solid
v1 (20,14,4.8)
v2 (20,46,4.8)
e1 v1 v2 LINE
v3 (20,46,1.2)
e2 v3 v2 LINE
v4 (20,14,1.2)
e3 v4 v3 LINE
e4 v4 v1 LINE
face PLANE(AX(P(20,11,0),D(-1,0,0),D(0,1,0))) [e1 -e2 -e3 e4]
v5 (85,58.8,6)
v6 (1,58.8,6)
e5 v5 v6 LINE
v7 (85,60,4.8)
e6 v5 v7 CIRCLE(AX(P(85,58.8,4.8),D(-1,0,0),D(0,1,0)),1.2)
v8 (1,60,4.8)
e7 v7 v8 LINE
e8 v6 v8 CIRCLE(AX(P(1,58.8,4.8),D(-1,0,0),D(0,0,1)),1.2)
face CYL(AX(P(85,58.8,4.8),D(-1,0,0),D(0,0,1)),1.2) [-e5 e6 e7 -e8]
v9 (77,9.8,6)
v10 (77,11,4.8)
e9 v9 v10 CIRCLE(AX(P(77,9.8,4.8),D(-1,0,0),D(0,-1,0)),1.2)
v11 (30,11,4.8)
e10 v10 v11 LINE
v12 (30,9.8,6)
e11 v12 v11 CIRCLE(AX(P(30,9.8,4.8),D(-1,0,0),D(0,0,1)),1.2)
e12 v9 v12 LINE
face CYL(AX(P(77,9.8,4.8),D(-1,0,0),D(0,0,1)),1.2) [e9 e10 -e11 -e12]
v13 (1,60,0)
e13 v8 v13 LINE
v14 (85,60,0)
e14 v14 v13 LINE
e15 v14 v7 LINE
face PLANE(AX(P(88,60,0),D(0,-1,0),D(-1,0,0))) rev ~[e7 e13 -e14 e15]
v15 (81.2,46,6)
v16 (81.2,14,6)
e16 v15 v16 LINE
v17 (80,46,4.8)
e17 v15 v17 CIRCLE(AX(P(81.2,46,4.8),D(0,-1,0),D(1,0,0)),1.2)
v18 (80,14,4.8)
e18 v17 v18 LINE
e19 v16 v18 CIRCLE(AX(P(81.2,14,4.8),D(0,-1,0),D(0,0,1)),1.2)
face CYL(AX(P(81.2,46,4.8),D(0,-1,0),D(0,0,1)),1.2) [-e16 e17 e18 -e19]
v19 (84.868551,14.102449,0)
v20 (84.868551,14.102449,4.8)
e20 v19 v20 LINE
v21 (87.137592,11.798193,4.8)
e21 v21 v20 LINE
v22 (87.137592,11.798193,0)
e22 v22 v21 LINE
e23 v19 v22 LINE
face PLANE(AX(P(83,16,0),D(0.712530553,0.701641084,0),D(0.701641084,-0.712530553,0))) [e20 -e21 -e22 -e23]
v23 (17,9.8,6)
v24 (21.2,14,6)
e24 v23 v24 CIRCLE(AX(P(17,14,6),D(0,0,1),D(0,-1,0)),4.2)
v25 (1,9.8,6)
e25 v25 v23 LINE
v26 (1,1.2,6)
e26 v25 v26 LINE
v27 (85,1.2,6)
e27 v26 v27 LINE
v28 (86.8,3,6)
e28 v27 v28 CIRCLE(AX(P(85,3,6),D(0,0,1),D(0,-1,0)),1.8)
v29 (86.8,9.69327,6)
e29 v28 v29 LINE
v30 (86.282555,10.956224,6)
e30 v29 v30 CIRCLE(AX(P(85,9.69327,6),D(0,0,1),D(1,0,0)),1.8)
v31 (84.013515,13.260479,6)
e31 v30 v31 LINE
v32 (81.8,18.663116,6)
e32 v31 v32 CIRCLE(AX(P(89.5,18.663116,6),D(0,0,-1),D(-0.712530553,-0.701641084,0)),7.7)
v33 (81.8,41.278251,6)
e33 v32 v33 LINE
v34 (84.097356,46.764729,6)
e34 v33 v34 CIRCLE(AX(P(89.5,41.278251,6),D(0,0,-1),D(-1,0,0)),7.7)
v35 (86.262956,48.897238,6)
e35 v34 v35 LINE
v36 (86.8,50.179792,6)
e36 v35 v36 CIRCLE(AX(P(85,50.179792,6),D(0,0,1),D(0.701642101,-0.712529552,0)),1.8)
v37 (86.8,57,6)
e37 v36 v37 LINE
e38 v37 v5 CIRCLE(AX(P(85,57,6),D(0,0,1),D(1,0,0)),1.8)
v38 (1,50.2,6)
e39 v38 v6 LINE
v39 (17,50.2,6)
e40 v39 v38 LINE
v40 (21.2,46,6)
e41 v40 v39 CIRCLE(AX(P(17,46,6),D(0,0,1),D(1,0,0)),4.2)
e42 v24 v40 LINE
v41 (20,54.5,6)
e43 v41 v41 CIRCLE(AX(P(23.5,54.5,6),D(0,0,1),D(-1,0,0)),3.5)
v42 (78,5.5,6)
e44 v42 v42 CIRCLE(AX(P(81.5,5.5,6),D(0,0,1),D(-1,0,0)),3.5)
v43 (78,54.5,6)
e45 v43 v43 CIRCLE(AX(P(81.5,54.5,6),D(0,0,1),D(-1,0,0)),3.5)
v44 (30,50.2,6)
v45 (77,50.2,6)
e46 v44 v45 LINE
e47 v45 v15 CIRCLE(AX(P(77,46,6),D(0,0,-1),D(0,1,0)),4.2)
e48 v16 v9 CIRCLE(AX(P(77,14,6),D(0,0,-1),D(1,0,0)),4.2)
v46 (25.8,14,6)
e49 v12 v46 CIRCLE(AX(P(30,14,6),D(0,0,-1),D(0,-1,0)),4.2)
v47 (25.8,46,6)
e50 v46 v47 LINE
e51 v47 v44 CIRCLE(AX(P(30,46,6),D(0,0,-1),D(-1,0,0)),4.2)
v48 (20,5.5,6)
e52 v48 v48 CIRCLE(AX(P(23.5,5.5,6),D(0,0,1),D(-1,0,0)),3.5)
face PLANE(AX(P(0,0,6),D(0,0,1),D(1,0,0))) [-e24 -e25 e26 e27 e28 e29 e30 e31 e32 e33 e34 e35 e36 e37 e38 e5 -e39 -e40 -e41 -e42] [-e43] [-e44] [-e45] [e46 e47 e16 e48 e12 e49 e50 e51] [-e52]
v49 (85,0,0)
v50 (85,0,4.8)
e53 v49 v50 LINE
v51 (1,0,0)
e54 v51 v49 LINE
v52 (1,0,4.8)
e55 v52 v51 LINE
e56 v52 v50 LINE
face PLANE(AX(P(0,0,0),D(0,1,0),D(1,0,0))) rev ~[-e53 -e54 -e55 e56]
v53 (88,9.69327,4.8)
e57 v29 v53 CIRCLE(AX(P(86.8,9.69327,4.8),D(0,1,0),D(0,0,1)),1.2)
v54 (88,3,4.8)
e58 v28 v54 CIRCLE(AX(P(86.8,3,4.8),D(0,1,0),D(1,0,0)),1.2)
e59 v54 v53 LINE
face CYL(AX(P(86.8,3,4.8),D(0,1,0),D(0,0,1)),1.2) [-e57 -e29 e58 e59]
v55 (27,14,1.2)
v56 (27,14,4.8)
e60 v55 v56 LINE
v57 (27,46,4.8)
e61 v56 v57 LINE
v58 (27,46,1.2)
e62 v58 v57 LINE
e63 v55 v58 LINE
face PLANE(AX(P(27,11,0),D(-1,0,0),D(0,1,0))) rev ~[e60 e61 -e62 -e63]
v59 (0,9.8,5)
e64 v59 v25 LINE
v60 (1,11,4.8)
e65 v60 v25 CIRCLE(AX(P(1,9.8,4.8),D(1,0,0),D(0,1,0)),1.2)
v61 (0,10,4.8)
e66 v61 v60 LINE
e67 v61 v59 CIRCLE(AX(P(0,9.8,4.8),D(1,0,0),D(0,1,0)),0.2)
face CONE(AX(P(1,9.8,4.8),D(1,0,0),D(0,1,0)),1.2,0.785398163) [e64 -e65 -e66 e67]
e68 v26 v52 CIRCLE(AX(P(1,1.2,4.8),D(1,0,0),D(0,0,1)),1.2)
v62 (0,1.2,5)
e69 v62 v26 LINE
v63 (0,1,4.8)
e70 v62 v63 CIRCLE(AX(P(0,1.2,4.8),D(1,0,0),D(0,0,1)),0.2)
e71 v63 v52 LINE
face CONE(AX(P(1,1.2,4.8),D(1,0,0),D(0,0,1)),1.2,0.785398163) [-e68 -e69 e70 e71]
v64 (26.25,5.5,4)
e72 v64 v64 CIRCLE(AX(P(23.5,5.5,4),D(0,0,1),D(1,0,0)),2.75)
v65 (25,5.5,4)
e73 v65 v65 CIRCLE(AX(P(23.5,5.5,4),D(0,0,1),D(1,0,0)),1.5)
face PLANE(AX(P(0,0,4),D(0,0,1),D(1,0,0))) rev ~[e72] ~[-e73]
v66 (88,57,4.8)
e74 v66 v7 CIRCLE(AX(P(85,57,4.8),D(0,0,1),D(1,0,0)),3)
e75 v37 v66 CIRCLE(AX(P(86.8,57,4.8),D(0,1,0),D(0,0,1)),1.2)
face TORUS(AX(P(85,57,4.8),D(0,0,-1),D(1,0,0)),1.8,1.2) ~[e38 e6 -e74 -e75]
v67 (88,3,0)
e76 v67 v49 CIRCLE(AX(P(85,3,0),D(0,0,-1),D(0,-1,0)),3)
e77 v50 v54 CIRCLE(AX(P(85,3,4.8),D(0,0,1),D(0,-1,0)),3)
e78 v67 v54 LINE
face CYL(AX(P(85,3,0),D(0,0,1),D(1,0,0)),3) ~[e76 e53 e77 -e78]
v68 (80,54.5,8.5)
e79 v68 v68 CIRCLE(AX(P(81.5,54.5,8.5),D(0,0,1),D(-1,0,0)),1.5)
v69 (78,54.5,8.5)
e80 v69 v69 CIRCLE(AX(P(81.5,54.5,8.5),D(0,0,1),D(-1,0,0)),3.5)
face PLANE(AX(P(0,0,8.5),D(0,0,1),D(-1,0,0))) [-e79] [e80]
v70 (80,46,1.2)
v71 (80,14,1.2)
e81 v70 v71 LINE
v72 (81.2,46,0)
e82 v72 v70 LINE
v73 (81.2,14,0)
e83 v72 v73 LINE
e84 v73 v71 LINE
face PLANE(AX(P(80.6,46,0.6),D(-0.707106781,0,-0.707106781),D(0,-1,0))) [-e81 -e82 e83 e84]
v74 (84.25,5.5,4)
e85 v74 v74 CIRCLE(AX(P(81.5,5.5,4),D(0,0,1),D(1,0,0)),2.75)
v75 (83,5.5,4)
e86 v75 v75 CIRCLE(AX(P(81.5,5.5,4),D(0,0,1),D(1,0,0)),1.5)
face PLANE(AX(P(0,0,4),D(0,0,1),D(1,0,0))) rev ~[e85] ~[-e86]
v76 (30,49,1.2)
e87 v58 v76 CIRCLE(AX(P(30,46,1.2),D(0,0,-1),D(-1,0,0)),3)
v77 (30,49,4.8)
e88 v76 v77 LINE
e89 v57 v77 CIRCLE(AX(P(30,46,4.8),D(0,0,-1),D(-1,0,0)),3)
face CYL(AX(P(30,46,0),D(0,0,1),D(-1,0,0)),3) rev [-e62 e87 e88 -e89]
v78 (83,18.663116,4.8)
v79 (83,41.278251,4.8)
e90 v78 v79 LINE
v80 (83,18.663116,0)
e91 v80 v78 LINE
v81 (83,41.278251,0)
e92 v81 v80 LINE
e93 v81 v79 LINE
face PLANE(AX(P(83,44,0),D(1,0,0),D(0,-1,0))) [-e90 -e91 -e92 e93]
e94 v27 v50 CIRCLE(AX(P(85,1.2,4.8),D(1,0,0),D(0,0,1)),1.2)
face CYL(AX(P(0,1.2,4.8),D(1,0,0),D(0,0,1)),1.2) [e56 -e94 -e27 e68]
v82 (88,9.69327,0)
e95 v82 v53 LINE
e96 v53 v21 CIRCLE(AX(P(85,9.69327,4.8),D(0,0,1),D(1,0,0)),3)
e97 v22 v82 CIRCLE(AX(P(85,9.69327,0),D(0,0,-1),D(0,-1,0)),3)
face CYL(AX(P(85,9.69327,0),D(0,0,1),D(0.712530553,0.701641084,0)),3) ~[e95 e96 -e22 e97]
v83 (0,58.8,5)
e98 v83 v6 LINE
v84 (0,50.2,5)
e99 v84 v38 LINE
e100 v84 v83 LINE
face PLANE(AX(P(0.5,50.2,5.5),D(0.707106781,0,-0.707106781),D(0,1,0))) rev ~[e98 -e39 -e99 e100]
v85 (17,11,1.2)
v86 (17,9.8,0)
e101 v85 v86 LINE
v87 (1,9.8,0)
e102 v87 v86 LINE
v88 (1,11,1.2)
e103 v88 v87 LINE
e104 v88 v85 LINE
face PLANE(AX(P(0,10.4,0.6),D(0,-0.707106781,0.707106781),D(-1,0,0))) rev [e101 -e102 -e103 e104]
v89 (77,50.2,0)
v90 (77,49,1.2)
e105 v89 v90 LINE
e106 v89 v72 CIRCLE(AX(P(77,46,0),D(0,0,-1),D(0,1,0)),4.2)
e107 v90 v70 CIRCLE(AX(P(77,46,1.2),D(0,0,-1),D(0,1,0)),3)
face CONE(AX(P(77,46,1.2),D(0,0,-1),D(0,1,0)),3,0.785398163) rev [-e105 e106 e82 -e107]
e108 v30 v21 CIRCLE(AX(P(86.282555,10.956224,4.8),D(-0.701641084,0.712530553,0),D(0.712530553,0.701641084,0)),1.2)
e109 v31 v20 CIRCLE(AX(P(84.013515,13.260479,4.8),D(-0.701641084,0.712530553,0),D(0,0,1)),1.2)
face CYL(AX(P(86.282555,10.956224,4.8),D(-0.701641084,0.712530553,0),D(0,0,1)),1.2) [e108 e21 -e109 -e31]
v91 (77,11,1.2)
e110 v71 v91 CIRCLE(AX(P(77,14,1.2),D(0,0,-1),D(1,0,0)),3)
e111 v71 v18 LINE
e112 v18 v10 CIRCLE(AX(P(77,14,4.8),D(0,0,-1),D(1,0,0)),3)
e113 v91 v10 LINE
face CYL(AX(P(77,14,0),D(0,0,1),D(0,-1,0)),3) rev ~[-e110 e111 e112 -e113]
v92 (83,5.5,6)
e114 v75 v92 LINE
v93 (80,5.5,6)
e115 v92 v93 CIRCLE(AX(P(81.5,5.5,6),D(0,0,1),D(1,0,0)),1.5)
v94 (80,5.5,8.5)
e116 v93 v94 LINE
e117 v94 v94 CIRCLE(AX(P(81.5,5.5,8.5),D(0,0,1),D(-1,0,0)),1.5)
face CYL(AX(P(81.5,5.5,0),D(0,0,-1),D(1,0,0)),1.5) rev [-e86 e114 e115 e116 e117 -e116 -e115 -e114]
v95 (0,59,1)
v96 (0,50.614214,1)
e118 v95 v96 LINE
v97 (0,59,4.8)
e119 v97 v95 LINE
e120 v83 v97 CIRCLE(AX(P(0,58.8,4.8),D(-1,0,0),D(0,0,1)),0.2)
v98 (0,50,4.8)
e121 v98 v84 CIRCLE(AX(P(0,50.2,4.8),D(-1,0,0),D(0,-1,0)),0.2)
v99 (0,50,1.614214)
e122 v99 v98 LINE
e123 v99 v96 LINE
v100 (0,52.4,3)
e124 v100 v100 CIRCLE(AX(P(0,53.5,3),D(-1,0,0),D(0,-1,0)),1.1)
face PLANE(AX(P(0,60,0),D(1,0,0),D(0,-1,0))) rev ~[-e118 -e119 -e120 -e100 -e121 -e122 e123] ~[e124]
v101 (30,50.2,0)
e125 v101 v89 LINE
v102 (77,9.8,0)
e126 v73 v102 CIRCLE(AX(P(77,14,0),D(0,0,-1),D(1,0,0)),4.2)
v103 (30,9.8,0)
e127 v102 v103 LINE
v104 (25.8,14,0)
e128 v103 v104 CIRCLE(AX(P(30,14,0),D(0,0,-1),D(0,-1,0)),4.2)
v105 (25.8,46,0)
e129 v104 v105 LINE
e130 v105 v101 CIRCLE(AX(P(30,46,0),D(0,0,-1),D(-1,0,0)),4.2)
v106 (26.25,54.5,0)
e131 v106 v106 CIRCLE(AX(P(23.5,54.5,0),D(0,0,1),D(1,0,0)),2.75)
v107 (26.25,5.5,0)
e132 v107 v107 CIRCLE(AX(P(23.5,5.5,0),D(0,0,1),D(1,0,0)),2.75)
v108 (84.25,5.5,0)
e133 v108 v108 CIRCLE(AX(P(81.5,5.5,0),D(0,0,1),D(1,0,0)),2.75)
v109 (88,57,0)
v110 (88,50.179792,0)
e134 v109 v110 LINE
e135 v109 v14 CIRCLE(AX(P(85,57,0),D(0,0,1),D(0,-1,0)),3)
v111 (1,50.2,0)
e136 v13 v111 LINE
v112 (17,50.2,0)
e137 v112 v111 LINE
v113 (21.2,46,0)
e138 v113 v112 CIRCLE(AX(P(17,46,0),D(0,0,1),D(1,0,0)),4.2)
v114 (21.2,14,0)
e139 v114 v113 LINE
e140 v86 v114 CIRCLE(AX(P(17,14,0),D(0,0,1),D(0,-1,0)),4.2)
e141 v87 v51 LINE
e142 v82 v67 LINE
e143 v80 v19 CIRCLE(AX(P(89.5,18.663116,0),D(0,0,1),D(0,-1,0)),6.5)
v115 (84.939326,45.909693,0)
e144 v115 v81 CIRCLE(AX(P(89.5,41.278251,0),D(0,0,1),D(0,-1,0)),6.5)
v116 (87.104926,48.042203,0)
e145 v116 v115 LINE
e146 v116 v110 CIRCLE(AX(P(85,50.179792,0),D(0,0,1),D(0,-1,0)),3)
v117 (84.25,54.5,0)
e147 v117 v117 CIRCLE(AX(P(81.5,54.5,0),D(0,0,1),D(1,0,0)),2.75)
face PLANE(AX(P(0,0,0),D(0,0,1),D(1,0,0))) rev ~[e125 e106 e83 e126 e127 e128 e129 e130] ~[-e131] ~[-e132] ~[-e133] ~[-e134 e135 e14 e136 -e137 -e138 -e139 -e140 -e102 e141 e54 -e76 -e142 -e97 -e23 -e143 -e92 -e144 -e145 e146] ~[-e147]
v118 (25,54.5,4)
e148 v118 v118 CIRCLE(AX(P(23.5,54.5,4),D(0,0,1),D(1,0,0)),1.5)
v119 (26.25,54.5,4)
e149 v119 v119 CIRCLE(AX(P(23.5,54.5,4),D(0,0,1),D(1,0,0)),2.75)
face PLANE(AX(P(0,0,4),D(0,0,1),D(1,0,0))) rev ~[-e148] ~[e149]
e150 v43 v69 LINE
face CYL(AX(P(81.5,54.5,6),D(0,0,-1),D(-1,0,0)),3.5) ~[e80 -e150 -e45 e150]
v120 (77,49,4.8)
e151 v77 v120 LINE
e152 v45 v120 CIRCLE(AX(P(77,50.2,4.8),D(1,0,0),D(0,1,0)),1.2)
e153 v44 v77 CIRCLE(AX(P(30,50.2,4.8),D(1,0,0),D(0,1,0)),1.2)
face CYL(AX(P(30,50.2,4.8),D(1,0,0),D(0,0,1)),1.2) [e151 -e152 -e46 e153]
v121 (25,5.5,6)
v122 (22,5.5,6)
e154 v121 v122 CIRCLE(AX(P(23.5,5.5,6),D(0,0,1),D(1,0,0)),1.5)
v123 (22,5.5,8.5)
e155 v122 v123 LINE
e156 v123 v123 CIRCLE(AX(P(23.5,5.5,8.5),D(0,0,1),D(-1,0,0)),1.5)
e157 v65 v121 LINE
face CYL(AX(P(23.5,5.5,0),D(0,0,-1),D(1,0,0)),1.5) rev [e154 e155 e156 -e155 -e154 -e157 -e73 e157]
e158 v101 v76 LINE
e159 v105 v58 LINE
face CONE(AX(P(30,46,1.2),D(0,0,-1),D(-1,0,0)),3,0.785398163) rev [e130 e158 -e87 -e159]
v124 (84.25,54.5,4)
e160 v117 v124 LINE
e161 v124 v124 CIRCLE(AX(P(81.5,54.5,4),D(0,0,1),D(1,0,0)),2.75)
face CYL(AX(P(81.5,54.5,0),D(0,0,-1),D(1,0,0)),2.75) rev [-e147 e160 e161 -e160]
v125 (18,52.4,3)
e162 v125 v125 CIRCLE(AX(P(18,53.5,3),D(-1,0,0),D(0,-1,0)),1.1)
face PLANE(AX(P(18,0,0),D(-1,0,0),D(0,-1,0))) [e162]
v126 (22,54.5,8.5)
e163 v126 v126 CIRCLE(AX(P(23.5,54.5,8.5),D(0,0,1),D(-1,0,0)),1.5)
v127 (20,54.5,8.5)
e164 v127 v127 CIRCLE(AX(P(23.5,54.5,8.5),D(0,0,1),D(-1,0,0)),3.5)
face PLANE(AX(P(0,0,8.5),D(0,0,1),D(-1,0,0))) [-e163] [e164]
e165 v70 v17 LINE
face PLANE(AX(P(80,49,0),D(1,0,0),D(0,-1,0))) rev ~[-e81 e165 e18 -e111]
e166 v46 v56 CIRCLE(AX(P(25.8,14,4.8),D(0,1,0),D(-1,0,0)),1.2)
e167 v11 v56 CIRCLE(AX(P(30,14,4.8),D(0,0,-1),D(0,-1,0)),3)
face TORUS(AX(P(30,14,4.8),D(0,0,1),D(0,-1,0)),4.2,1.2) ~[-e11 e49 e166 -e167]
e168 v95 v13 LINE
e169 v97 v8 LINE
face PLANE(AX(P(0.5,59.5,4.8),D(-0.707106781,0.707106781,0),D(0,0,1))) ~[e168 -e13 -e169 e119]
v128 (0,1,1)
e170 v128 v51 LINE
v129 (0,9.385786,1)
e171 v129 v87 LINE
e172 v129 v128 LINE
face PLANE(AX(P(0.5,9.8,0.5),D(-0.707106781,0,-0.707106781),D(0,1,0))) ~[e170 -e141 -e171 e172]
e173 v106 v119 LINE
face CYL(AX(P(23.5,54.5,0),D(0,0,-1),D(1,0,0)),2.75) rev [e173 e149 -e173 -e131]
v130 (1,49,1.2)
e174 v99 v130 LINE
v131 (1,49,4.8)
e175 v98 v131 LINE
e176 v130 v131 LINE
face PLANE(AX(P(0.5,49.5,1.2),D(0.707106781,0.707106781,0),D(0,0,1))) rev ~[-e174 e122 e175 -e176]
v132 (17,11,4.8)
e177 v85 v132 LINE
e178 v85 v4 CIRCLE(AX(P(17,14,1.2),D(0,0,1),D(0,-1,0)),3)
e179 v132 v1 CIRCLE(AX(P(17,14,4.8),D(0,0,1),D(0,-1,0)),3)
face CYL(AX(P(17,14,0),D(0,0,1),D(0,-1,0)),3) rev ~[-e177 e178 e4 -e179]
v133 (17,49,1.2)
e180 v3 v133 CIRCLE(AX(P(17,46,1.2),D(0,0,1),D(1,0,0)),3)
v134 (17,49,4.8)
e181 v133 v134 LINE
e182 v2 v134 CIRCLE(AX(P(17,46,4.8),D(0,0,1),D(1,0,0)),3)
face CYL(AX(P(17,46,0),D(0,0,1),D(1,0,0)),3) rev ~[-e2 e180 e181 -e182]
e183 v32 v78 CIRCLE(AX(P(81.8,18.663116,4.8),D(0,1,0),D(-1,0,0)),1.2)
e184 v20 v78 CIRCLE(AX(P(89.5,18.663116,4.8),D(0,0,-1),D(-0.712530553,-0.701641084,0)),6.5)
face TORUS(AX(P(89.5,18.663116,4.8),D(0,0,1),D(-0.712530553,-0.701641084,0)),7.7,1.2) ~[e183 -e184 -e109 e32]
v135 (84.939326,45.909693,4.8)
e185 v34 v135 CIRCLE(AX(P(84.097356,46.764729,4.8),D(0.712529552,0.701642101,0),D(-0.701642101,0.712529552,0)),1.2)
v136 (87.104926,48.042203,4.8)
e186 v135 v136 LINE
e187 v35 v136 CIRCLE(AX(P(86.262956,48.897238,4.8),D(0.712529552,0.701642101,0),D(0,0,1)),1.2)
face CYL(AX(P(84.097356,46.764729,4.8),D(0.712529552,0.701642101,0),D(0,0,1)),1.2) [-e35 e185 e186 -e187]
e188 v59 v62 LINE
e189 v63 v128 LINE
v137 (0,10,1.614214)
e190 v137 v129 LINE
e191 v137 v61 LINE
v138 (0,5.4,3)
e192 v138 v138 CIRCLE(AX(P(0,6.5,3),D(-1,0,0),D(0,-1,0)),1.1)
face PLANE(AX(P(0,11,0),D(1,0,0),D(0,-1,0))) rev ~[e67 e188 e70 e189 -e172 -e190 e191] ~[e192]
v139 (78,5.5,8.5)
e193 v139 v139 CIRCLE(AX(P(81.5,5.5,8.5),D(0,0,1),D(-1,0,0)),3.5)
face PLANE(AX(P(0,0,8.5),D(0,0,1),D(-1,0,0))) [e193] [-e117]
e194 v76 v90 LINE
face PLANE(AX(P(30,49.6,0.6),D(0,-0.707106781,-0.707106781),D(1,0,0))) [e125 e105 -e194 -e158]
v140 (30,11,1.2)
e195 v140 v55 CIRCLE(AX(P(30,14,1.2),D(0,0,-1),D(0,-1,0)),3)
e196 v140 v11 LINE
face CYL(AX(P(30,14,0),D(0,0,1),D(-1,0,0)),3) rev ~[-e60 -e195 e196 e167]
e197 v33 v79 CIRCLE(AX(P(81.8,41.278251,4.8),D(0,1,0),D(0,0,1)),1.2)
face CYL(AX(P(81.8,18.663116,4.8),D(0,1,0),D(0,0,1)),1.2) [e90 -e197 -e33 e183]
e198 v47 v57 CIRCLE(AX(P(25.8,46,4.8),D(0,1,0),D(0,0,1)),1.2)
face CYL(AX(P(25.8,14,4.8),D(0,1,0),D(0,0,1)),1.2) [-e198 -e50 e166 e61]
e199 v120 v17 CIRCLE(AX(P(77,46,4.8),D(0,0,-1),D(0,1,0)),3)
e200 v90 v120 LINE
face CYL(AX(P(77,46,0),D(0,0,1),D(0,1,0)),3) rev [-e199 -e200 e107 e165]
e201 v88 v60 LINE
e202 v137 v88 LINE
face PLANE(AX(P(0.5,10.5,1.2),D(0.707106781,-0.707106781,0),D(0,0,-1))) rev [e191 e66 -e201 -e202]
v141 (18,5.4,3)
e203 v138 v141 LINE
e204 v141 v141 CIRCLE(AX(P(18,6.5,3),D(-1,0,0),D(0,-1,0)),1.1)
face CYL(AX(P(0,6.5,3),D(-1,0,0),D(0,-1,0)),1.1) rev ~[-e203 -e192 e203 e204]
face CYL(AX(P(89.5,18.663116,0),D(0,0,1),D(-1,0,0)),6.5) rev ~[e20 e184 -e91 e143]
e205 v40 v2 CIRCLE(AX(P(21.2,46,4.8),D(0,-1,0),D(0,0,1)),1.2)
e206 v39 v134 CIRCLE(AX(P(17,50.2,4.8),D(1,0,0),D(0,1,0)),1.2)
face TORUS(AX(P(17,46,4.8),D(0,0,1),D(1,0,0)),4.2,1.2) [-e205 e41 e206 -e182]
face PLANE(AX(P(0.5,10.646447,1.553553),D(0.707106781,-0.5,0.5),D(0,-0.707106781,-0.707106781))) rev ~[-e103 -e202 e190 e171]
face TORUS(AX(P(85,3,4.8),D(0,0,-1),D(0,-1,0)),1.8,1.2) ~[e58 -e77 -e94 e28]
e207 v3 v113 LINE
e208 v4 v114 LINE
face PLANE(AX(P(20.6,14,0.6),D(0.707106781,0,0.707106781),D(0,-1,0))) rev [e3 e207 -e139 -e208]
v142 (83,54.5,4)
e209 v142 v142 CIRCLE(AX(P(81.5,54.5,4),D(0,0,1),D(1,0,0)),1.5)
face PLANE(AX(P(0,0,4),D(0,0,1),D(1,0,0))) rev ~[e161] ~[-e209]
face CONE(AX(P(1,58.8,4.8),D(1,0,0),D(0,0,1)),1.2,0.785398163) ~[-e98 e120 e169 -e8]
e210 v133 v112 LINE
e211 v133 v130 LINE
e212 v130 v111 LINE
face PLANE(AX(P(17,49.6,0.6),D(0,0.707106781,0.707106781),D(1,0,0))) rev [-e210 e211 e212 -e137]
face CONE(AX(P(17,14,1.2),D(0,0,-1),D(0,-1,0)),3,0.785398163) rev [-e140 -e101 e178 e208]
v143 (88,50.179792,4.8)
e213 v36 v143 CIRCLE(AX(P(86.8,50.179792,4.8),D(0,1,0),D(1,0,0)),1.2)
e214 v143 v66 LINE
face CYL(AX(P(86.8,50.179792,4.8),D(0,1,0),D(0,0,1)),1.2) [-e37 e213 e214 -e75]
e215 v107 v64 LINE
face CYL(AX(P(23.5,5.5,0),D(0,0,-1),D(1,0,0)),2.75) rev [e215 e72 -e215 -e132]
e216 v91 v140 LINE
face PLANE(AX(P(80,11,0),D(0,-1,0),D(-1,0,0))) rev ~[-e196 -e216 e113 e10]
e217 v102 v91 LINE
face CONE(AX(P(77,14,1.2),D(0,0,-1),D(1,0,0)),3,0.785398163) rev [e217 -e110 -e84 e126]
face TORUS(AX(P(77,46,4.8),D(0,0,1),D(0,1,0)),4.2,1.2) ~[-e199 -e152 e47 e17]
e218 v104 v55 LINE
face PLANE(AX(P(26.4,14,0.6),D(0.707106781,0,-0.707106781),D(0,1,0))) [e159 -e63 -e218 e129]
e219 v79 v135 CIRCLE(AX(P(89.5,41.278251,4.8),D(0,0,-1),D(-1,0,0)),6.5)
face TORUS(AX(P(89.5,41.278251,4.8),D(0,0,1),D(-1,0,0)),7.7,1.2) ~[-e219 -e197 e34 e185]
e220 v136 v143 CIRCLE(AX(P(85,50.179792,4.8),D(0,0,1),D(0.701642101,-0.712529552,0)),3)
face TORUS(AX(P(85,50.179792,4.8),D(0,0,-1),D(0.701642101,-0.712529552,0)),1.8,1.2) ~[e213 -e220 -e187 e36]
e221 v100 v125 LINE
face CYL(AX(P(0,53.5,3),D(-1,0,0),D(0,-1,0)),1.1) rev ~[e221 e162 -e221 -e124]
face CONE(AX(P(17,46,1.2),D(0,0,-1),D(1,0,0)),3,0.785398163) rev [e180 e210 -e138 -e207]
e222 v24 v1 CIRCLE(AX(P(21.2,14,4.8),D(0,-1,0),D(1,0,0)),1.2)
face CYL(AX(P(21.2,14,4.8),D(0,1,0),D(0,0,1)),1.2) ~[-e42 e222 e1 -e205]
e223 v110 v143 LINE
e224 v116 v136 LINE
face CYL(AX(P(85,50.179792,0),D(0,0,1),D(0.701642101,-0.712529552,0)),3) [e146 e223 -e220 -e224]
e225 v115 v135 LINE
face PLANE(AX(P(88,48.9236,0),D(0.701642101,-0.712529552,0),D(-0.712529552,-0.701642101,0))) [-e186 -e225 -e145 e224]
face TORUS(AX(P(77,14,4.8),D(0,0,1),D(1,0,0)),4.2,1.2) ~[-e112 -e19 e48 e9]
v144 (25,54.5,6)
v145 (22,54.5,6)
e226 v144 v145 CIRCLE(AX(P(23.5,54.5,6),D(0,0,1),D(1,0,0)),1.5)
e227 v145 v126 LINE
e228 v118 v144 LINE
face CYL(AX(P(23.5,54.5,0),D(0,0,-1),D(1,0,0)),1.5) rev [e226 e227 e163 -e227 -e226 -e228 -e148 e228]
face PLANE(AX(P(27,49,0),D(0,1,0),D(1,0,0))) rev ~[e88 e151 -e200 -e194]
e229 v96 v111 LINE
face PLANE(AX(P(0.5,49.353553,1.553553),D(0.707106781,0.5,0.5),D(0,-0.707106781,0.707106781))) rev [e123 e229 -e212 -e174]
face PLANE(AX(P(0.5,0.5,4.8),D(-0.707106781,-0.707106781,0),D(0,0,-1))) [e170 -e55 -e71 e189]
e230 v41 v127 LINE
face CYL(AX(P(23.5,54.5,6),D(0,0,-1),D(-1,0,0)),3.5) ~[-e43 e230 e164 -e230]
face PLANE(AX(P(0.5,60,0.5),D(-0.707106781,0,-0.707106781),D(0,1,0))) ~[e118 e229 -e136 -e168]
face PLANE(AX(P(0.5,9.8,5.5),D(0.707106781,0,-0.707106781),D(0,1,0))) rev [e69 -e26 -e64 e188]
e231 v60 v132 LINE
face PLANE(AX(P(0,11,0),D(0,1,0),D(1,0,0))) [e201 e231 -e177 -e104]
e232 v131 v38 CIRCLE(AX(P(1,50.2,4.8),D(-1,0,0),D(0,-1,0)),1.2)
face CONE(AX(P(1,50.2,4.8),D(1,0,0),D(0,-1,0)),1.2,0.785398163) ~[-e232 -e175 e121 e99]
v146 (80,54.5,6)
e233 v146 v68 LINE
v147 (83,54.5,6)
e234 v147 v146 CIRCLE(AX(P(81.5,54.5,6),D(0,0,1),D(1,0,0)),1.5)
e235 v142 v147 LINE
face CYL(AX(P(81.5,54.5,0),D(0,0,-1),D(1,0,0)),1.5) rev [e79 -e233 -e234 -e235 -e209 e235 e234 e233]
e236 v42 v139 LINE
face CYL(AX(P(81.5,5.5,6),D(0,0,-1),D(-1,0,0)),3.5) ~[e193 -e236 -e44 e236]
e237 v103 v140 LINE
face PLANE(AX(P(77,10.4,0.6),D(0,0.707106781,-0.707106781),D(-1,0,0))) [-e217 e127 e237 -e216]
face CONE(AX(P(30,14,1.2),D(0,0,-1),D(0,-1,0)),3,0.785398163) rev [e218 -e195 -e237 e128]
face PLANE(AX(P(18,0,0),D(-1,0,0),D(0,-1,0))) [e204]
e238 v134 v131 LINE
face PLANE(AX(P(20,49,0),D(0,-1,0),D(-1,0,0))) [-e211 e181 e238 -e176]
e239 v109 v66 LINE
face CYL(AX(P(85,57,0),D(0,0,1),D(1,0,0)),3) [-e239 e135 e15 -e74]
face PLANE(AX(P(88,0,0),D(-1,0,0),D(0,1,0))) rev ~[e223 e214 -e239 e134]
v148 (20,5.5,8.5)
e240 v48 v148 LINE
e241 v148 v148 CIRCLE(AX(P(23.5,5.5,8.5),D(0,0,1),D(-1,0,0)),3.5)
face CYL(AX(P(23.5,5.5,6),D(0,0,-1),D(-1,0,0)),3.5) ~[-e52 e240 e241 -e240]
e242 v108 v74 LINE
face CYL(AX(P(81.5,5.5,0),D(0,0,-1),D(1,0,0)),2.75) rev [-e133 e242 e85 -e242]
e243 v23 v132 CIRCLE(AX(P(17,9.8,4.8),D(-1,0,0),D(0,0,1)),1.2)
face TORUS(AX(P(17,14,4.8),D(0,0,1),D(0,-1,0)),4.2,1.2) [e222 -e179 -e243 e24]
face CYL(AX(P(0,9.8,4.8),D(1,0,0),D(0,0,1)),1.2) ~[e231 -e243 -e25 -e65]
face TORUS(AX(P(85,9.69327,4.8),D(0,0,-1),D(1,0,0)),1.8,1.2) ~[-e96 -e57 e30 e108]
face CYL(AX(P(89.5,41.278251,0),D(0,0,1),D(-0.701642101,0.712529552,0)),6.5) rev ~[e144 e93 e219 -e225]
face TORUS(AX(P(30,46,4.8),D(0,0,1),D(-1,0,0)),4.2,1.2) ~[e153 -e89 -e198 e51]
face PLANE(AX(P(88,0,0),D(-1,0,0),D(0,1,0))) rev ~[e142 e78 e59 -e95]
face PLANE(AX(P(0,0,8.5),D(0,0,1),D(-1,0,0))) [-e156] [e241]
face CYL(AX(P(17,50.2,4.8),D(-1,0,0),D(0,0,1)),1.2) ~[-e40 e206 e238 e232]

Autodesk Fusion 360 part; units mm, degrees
sketch "Sketch1" plane through (0, 0, 0) normal (0, 0, 1) x (1, 0, 0) in component "Base"
  line L0 (0, 0) -> (88, 0)
  line L1 (88, 0) -> (88, 60)
  line L2 (88, 60) -> (0, 60)
  line L3 (0, 60) -> (0, 0)
  line L4 (0, 11) -> (20, 11)
  line L5 (20, 11) -> (20, 49)
  line L6 (20, 49) -> (0, 49)
  line L7 (0, 49) -> (0, 11)
  circle A0 centre (23.5, 54.5) radius 1.5
  circle A1 centre (23.5, 5.5) radius 1.5
  circle A2 centre (81.5, 54.5) radius 1.5
  circle A3 centre (81.5, 5.5) radius 1.5
  line L8 (27, 49) -> (80, 49)
  line L9 (80, 49) -> (80, 11)
  line L10 (80, 11) -> (27, 11)
  line L11 (27, 11) -> (27, 49)
  line L12 (88, 48.9236) -> (83, 44)
  line L13 (83, 44) -> (83, 16)
  line L14 (83, 16) -> (88, 10.9224)
  dimension "d3" = 60
  dimension "d4" = 88
  dimension "d14" = 20
  dimension "d15" = 38
  dimension "d16" = 11
  dimension "d18" = 3
  dimension "d19" = 23.5
  dimension "d20" = 3
  dimension "d21" = 23.5
  dimension "d22" = 3
  dimension "d23" = 3
  dimension "d27" = 49
  dimension "d28" = 49
  dimension "d29" = 5.5
  dimension "d30" = 5.5
  dimension "d31" = 7
  dimension "d32" = 8
  dimension "d66" = 58
  dimension "d67" = 58
  dimension "d82" = 38
  dimension "d83" = 11
extrude "Extrude2" add sketch "Sketch1" along normal blind 6 contours L0 L1 L2 L3 L4 L5 L6 L12 L13 L14 | L1 L12 L13 L14 makes body 1 in component "Base"
extrude "Extrude1" add sketch "Sketch1" along normal blind 6 separate body contours L0 L1 L2 L3 L4 L5 L6 L12 L13 L14 | L1 L12 L13 L14 makes body 2 in component "Base"
sketch "Sketch2" plane through (0, 0, 0) normal (-1, 0, 0) x (0, -1, 0) in component "Base"
  line L0 (-60, 0) -> (-49, 0)
  line L1 (-49, 0) -> (-49, 6)
  line L2 (-49, 6) -> (-60, 6)
  line L3 (-60, 6) -> (-60, 0)
  circle A0 centre (-53.5, 3) radius 1.1
  circle A1 centre (-6.5, 3) radius 1.1
  line L4 (-11, 6) -> (0, 6)
  line L5 (0, 0) -> (0, 6)
  dimension "d35" = 2.2
  dimension "d36" = 2.2
  dimension "d37" = 3
  dimension "d38" = 3
  dimension "d39" = 47
  dimension "d40" = 6.5
extrude "Extrude3" cut sketch "Sketch2" against normal blind 18 contours A0 | A1 bodies 1 2 in component "Base"
sketch "Sketch3" plane through (0, 0, 6) normal (0, 0, 1) x (-1, 0, 0) in component "Base"
  line L0 (-80, -11) -> (-27, -11)
  line L1 (-27, -11) -> (-27, -49)
  line L2 (-27, -49) -> (-80, -49)
  line L3 (-80, -49) -> (-80, -11)
  circle A0 centre (-81.5, -54.5) radius 1.5
  circle A1 centre (-81.5, -5.5) radius 1.5
  circle A2 centre (-23.5, -5.5) radius 1.5
  circle A3 centre (-23.5, -54.5) radius 1.5
  line L4 (0, -11) -> (0, 0)
  line L5 (0, 0) -> (-88, 0)
  line L6 (-88, 0) -> (-88, -60)
  line L7 (-88, -60) -> (0, -60)
  line L8 (0, -60) -> (0, -49)
  line L9 (0, -49) -> (-20, -49)
  line L10 (-20, -49) -> (-20, -11)
  line L11 (-20, -11) -> (0, -11)
  circle A4 centre (-23.5, -54.5) radius 3.5
  circle A5 centre (-81.5, -54.5) radius 3.5
  circle A6 centre (-81.5, -5.5) radius 3.5
  circle A7 centre (-23.5, -5.5) radius 3.5
  dimension "d43" = 7
  dimension "d45" = 7
  dimension "d46" = 7
  dimension "d47" = 7
extrude "Extrude4" add sketch "Sketch3" along normal blind 2.5 contours A4 | A5 | A6 | A7 bodies 1 2 in component "Base"
sketch "Sketch4" plane through (0, 0, 0) normal (0, 0, 1) x (1, 0, 0) in component "Base"
  circle A0 centre (23.5, 5.5) radius 2.75
  circle A1 centre (81.5, 5.5) radius 2.75
  circle A2 centre (81.5, 54.5) radius 2.75
  circle A3 centre (23.5, 54.5) radius 2.75
  dimension "d51" = 5.5
  dimension "d52" = 5.5
  dimension "d53" = 5.5
  dimension "d54" = 5.5
  dimension "d77" = 58
  dimension "d78" = 58
  dimension "d79" = 49
  dimension "d80" = 49
extrude "Extrude5" cut sketch "Sketch4" along normal blind 4 bodies 1 in component "Base"
fillet "Fillet9" radius 3 12 edges at (80, 49, 3) (80, 49, 3) (20, 49, 3) (20, 49, 3) (80, 11, 3) (80, 11, 3) (20, 11, 3) (20, 11, 3) (27, 49, 3) (27, 49, 3) (27, 11, 3) (27, 11, 3) on bodies 1 2 in component "Base"
chamfer "Chamfer5" distance 1.2 angle 45 13 edges at (27, 30, 0) (27.8787, 48.1213, 0) (53.5, 49, 0) (79.1213, 48.1213, 0) (80, 30, 0) (79.1213, 11.8787, 0) (53.5, 11, 0) (27.8787, 11.8787, 0) (8.5, 11, 0) (19.1213, 11.8787, 0) (20, 30, 0) (19.1213, 48.1213, 0) (8.5, 49, 0) on bodies 1 in component "Base"
fillet "Fillet12" radius 1.2 13 edges at (79.1213, 48.1213, 6) (80, 30, 6) (79.1213, 11.8787, 6) (53.5, 11, 6) (27.8787, 11.8787, 6) (27, 30, 6) (27.8787, 48.1213, 6) (53.5, 49, 6) (8.5, 49, 6) (19.1213, 48.1213, 6) (20, 30, 6) (19.1213, 11.8787, 6) (8.5, 11, 6) on bodies 1 in component "Base"
extrude "Extrude6" cut sketch "Sketch1" along normal up to surface (6 mm away) contours L1 L12 L13 L14 bodies 1 in component "Base"
fillet "Fillet13" radius 6.5 2 edges at (83, 44, 3) (83, 16, 3) on bodies 1 in component "Base"
fillet "Fillet14" radius 3 6 edges at (88, 48.9236, 3) (88, 10.9224, 3) (88, 0, 3) (88, 0, 3) (88, 60, 3) (88, 60, 3) on bodies 1 2 in component "Base"
fillet "Fillet15" radius 1.2 13 edges at (42.5, 0, 6) (87.1213, 0.8787, 6) (88, 6.3466, 6) (87.776, 10.8307, 6) (86.0031, 12.9503, 6) (83.4853, 16.1988, 6) (83, 29.9707, 6) (83.5044, 43.7888, 6) (86.0221, 46.9759, 6) (87.7672, 49.0211, 6) (88, 53.5899, 6) (87.1213, 59.1213, 6) (42.5, 60, 6) on bodies 1 in component "Base"
chamfer "Chamfer8" distance 1 angle 45 14 edges at (0, 49, 3) (0, 49.3515, 5.6485) (0, 54.5, 6) (0, 59.6485, 5.6485) (0, 60, 2.4) (0, 55.1, 0) (0, 49.6, 0.6) (0, 11, 3) (0, 10.6485, 5.6485) (0, 5.5, 6) (0, 0.3515, 5.6485) (0, 0, 2.4) (0, 10.4, 0.6) (0, 4.9, 0) on bodies 1 in component "Base"
component "Base" placed x (1, 0, 0) y (0, 1, 0) z (0, 0, 1) at (0, 0, 0)
equation "width = 82 mm + 6 mm"
equation "height = 60 mm"
equation "d3 = height"
equation "d4 = width"
equation "firstHolesXOffset = 23.5 mm"
equation "secondHolesXOffset = 82 mm"
equation "panelHolesDistance = 47 mm"
equation "piScrewHoleDiameter = 3 mm"
equation "piScrewHeadHoleDiameter = 5.5 mm"
equation "piHoleSpacerDistance = 2.5 mm"
equation "thickness = 6 mm"
equation "d12 = thickness"
equation "d15 = cutoutHeight"
equation "d16 = ( height - cutoutHeight ) / 2"
equation "cutoutHeight = 38 mm"
equation "d18 = piScrewHoleDiameter"
equation "d19 = firstHolesXOffset"
equation "d20 = piScrewHoleDiameter"
equation "d21 = firstHolesXOffset"
equation "d22 = piScrewHoleDiameter"
equation "d23 = piScrewHoleDiameter"
equation "piHolesVerticalSpacing = 49 mm"
equation "d27 = piHolesVerticalSpacing"
equation "d28 = piHolesVerticalSpacing"
equation "d29 = ( height - piHolesVerticalSpacing ) / 2"
equation "d30 = ( height - piHolesVerticalSpacing ) / 2"
equation "d33 = thickness"
equation "d37 = thickness / 2"
equation "d38 = thickness / 2"
equation "d39 = panelHolesDistance"
equation "d40 = ( height - panelHolesDistance ) / 2"
equation "d43 = piSpacerDiameter"
equation "piSpacerDiameter = 7 mm"
equation "d45 = piSpacerDiameter"
equation "d46 = piSpacerDiameter"
equation "d47 = piSpacerDiameter"
equation "d48 = piHoleSpacerDistance"
equation "screwHeadSinkDepth = 4 mm" comment "How far the screw head gets sunk in"
equation "d51 = piScrewHeadHoleDiameter"
equation "d52 = piScrewHeadHoleDiameter"
equation "d53 = piScrewHeadHoleDiameter"
equation "d54 = piScrewHeadHoleDiameter"
equation "d55 = screwHeadSinkDepth"
equation "d82 = cutoutHeight"
equation "d83 = ( height - cutoutHeight ) / 2"
